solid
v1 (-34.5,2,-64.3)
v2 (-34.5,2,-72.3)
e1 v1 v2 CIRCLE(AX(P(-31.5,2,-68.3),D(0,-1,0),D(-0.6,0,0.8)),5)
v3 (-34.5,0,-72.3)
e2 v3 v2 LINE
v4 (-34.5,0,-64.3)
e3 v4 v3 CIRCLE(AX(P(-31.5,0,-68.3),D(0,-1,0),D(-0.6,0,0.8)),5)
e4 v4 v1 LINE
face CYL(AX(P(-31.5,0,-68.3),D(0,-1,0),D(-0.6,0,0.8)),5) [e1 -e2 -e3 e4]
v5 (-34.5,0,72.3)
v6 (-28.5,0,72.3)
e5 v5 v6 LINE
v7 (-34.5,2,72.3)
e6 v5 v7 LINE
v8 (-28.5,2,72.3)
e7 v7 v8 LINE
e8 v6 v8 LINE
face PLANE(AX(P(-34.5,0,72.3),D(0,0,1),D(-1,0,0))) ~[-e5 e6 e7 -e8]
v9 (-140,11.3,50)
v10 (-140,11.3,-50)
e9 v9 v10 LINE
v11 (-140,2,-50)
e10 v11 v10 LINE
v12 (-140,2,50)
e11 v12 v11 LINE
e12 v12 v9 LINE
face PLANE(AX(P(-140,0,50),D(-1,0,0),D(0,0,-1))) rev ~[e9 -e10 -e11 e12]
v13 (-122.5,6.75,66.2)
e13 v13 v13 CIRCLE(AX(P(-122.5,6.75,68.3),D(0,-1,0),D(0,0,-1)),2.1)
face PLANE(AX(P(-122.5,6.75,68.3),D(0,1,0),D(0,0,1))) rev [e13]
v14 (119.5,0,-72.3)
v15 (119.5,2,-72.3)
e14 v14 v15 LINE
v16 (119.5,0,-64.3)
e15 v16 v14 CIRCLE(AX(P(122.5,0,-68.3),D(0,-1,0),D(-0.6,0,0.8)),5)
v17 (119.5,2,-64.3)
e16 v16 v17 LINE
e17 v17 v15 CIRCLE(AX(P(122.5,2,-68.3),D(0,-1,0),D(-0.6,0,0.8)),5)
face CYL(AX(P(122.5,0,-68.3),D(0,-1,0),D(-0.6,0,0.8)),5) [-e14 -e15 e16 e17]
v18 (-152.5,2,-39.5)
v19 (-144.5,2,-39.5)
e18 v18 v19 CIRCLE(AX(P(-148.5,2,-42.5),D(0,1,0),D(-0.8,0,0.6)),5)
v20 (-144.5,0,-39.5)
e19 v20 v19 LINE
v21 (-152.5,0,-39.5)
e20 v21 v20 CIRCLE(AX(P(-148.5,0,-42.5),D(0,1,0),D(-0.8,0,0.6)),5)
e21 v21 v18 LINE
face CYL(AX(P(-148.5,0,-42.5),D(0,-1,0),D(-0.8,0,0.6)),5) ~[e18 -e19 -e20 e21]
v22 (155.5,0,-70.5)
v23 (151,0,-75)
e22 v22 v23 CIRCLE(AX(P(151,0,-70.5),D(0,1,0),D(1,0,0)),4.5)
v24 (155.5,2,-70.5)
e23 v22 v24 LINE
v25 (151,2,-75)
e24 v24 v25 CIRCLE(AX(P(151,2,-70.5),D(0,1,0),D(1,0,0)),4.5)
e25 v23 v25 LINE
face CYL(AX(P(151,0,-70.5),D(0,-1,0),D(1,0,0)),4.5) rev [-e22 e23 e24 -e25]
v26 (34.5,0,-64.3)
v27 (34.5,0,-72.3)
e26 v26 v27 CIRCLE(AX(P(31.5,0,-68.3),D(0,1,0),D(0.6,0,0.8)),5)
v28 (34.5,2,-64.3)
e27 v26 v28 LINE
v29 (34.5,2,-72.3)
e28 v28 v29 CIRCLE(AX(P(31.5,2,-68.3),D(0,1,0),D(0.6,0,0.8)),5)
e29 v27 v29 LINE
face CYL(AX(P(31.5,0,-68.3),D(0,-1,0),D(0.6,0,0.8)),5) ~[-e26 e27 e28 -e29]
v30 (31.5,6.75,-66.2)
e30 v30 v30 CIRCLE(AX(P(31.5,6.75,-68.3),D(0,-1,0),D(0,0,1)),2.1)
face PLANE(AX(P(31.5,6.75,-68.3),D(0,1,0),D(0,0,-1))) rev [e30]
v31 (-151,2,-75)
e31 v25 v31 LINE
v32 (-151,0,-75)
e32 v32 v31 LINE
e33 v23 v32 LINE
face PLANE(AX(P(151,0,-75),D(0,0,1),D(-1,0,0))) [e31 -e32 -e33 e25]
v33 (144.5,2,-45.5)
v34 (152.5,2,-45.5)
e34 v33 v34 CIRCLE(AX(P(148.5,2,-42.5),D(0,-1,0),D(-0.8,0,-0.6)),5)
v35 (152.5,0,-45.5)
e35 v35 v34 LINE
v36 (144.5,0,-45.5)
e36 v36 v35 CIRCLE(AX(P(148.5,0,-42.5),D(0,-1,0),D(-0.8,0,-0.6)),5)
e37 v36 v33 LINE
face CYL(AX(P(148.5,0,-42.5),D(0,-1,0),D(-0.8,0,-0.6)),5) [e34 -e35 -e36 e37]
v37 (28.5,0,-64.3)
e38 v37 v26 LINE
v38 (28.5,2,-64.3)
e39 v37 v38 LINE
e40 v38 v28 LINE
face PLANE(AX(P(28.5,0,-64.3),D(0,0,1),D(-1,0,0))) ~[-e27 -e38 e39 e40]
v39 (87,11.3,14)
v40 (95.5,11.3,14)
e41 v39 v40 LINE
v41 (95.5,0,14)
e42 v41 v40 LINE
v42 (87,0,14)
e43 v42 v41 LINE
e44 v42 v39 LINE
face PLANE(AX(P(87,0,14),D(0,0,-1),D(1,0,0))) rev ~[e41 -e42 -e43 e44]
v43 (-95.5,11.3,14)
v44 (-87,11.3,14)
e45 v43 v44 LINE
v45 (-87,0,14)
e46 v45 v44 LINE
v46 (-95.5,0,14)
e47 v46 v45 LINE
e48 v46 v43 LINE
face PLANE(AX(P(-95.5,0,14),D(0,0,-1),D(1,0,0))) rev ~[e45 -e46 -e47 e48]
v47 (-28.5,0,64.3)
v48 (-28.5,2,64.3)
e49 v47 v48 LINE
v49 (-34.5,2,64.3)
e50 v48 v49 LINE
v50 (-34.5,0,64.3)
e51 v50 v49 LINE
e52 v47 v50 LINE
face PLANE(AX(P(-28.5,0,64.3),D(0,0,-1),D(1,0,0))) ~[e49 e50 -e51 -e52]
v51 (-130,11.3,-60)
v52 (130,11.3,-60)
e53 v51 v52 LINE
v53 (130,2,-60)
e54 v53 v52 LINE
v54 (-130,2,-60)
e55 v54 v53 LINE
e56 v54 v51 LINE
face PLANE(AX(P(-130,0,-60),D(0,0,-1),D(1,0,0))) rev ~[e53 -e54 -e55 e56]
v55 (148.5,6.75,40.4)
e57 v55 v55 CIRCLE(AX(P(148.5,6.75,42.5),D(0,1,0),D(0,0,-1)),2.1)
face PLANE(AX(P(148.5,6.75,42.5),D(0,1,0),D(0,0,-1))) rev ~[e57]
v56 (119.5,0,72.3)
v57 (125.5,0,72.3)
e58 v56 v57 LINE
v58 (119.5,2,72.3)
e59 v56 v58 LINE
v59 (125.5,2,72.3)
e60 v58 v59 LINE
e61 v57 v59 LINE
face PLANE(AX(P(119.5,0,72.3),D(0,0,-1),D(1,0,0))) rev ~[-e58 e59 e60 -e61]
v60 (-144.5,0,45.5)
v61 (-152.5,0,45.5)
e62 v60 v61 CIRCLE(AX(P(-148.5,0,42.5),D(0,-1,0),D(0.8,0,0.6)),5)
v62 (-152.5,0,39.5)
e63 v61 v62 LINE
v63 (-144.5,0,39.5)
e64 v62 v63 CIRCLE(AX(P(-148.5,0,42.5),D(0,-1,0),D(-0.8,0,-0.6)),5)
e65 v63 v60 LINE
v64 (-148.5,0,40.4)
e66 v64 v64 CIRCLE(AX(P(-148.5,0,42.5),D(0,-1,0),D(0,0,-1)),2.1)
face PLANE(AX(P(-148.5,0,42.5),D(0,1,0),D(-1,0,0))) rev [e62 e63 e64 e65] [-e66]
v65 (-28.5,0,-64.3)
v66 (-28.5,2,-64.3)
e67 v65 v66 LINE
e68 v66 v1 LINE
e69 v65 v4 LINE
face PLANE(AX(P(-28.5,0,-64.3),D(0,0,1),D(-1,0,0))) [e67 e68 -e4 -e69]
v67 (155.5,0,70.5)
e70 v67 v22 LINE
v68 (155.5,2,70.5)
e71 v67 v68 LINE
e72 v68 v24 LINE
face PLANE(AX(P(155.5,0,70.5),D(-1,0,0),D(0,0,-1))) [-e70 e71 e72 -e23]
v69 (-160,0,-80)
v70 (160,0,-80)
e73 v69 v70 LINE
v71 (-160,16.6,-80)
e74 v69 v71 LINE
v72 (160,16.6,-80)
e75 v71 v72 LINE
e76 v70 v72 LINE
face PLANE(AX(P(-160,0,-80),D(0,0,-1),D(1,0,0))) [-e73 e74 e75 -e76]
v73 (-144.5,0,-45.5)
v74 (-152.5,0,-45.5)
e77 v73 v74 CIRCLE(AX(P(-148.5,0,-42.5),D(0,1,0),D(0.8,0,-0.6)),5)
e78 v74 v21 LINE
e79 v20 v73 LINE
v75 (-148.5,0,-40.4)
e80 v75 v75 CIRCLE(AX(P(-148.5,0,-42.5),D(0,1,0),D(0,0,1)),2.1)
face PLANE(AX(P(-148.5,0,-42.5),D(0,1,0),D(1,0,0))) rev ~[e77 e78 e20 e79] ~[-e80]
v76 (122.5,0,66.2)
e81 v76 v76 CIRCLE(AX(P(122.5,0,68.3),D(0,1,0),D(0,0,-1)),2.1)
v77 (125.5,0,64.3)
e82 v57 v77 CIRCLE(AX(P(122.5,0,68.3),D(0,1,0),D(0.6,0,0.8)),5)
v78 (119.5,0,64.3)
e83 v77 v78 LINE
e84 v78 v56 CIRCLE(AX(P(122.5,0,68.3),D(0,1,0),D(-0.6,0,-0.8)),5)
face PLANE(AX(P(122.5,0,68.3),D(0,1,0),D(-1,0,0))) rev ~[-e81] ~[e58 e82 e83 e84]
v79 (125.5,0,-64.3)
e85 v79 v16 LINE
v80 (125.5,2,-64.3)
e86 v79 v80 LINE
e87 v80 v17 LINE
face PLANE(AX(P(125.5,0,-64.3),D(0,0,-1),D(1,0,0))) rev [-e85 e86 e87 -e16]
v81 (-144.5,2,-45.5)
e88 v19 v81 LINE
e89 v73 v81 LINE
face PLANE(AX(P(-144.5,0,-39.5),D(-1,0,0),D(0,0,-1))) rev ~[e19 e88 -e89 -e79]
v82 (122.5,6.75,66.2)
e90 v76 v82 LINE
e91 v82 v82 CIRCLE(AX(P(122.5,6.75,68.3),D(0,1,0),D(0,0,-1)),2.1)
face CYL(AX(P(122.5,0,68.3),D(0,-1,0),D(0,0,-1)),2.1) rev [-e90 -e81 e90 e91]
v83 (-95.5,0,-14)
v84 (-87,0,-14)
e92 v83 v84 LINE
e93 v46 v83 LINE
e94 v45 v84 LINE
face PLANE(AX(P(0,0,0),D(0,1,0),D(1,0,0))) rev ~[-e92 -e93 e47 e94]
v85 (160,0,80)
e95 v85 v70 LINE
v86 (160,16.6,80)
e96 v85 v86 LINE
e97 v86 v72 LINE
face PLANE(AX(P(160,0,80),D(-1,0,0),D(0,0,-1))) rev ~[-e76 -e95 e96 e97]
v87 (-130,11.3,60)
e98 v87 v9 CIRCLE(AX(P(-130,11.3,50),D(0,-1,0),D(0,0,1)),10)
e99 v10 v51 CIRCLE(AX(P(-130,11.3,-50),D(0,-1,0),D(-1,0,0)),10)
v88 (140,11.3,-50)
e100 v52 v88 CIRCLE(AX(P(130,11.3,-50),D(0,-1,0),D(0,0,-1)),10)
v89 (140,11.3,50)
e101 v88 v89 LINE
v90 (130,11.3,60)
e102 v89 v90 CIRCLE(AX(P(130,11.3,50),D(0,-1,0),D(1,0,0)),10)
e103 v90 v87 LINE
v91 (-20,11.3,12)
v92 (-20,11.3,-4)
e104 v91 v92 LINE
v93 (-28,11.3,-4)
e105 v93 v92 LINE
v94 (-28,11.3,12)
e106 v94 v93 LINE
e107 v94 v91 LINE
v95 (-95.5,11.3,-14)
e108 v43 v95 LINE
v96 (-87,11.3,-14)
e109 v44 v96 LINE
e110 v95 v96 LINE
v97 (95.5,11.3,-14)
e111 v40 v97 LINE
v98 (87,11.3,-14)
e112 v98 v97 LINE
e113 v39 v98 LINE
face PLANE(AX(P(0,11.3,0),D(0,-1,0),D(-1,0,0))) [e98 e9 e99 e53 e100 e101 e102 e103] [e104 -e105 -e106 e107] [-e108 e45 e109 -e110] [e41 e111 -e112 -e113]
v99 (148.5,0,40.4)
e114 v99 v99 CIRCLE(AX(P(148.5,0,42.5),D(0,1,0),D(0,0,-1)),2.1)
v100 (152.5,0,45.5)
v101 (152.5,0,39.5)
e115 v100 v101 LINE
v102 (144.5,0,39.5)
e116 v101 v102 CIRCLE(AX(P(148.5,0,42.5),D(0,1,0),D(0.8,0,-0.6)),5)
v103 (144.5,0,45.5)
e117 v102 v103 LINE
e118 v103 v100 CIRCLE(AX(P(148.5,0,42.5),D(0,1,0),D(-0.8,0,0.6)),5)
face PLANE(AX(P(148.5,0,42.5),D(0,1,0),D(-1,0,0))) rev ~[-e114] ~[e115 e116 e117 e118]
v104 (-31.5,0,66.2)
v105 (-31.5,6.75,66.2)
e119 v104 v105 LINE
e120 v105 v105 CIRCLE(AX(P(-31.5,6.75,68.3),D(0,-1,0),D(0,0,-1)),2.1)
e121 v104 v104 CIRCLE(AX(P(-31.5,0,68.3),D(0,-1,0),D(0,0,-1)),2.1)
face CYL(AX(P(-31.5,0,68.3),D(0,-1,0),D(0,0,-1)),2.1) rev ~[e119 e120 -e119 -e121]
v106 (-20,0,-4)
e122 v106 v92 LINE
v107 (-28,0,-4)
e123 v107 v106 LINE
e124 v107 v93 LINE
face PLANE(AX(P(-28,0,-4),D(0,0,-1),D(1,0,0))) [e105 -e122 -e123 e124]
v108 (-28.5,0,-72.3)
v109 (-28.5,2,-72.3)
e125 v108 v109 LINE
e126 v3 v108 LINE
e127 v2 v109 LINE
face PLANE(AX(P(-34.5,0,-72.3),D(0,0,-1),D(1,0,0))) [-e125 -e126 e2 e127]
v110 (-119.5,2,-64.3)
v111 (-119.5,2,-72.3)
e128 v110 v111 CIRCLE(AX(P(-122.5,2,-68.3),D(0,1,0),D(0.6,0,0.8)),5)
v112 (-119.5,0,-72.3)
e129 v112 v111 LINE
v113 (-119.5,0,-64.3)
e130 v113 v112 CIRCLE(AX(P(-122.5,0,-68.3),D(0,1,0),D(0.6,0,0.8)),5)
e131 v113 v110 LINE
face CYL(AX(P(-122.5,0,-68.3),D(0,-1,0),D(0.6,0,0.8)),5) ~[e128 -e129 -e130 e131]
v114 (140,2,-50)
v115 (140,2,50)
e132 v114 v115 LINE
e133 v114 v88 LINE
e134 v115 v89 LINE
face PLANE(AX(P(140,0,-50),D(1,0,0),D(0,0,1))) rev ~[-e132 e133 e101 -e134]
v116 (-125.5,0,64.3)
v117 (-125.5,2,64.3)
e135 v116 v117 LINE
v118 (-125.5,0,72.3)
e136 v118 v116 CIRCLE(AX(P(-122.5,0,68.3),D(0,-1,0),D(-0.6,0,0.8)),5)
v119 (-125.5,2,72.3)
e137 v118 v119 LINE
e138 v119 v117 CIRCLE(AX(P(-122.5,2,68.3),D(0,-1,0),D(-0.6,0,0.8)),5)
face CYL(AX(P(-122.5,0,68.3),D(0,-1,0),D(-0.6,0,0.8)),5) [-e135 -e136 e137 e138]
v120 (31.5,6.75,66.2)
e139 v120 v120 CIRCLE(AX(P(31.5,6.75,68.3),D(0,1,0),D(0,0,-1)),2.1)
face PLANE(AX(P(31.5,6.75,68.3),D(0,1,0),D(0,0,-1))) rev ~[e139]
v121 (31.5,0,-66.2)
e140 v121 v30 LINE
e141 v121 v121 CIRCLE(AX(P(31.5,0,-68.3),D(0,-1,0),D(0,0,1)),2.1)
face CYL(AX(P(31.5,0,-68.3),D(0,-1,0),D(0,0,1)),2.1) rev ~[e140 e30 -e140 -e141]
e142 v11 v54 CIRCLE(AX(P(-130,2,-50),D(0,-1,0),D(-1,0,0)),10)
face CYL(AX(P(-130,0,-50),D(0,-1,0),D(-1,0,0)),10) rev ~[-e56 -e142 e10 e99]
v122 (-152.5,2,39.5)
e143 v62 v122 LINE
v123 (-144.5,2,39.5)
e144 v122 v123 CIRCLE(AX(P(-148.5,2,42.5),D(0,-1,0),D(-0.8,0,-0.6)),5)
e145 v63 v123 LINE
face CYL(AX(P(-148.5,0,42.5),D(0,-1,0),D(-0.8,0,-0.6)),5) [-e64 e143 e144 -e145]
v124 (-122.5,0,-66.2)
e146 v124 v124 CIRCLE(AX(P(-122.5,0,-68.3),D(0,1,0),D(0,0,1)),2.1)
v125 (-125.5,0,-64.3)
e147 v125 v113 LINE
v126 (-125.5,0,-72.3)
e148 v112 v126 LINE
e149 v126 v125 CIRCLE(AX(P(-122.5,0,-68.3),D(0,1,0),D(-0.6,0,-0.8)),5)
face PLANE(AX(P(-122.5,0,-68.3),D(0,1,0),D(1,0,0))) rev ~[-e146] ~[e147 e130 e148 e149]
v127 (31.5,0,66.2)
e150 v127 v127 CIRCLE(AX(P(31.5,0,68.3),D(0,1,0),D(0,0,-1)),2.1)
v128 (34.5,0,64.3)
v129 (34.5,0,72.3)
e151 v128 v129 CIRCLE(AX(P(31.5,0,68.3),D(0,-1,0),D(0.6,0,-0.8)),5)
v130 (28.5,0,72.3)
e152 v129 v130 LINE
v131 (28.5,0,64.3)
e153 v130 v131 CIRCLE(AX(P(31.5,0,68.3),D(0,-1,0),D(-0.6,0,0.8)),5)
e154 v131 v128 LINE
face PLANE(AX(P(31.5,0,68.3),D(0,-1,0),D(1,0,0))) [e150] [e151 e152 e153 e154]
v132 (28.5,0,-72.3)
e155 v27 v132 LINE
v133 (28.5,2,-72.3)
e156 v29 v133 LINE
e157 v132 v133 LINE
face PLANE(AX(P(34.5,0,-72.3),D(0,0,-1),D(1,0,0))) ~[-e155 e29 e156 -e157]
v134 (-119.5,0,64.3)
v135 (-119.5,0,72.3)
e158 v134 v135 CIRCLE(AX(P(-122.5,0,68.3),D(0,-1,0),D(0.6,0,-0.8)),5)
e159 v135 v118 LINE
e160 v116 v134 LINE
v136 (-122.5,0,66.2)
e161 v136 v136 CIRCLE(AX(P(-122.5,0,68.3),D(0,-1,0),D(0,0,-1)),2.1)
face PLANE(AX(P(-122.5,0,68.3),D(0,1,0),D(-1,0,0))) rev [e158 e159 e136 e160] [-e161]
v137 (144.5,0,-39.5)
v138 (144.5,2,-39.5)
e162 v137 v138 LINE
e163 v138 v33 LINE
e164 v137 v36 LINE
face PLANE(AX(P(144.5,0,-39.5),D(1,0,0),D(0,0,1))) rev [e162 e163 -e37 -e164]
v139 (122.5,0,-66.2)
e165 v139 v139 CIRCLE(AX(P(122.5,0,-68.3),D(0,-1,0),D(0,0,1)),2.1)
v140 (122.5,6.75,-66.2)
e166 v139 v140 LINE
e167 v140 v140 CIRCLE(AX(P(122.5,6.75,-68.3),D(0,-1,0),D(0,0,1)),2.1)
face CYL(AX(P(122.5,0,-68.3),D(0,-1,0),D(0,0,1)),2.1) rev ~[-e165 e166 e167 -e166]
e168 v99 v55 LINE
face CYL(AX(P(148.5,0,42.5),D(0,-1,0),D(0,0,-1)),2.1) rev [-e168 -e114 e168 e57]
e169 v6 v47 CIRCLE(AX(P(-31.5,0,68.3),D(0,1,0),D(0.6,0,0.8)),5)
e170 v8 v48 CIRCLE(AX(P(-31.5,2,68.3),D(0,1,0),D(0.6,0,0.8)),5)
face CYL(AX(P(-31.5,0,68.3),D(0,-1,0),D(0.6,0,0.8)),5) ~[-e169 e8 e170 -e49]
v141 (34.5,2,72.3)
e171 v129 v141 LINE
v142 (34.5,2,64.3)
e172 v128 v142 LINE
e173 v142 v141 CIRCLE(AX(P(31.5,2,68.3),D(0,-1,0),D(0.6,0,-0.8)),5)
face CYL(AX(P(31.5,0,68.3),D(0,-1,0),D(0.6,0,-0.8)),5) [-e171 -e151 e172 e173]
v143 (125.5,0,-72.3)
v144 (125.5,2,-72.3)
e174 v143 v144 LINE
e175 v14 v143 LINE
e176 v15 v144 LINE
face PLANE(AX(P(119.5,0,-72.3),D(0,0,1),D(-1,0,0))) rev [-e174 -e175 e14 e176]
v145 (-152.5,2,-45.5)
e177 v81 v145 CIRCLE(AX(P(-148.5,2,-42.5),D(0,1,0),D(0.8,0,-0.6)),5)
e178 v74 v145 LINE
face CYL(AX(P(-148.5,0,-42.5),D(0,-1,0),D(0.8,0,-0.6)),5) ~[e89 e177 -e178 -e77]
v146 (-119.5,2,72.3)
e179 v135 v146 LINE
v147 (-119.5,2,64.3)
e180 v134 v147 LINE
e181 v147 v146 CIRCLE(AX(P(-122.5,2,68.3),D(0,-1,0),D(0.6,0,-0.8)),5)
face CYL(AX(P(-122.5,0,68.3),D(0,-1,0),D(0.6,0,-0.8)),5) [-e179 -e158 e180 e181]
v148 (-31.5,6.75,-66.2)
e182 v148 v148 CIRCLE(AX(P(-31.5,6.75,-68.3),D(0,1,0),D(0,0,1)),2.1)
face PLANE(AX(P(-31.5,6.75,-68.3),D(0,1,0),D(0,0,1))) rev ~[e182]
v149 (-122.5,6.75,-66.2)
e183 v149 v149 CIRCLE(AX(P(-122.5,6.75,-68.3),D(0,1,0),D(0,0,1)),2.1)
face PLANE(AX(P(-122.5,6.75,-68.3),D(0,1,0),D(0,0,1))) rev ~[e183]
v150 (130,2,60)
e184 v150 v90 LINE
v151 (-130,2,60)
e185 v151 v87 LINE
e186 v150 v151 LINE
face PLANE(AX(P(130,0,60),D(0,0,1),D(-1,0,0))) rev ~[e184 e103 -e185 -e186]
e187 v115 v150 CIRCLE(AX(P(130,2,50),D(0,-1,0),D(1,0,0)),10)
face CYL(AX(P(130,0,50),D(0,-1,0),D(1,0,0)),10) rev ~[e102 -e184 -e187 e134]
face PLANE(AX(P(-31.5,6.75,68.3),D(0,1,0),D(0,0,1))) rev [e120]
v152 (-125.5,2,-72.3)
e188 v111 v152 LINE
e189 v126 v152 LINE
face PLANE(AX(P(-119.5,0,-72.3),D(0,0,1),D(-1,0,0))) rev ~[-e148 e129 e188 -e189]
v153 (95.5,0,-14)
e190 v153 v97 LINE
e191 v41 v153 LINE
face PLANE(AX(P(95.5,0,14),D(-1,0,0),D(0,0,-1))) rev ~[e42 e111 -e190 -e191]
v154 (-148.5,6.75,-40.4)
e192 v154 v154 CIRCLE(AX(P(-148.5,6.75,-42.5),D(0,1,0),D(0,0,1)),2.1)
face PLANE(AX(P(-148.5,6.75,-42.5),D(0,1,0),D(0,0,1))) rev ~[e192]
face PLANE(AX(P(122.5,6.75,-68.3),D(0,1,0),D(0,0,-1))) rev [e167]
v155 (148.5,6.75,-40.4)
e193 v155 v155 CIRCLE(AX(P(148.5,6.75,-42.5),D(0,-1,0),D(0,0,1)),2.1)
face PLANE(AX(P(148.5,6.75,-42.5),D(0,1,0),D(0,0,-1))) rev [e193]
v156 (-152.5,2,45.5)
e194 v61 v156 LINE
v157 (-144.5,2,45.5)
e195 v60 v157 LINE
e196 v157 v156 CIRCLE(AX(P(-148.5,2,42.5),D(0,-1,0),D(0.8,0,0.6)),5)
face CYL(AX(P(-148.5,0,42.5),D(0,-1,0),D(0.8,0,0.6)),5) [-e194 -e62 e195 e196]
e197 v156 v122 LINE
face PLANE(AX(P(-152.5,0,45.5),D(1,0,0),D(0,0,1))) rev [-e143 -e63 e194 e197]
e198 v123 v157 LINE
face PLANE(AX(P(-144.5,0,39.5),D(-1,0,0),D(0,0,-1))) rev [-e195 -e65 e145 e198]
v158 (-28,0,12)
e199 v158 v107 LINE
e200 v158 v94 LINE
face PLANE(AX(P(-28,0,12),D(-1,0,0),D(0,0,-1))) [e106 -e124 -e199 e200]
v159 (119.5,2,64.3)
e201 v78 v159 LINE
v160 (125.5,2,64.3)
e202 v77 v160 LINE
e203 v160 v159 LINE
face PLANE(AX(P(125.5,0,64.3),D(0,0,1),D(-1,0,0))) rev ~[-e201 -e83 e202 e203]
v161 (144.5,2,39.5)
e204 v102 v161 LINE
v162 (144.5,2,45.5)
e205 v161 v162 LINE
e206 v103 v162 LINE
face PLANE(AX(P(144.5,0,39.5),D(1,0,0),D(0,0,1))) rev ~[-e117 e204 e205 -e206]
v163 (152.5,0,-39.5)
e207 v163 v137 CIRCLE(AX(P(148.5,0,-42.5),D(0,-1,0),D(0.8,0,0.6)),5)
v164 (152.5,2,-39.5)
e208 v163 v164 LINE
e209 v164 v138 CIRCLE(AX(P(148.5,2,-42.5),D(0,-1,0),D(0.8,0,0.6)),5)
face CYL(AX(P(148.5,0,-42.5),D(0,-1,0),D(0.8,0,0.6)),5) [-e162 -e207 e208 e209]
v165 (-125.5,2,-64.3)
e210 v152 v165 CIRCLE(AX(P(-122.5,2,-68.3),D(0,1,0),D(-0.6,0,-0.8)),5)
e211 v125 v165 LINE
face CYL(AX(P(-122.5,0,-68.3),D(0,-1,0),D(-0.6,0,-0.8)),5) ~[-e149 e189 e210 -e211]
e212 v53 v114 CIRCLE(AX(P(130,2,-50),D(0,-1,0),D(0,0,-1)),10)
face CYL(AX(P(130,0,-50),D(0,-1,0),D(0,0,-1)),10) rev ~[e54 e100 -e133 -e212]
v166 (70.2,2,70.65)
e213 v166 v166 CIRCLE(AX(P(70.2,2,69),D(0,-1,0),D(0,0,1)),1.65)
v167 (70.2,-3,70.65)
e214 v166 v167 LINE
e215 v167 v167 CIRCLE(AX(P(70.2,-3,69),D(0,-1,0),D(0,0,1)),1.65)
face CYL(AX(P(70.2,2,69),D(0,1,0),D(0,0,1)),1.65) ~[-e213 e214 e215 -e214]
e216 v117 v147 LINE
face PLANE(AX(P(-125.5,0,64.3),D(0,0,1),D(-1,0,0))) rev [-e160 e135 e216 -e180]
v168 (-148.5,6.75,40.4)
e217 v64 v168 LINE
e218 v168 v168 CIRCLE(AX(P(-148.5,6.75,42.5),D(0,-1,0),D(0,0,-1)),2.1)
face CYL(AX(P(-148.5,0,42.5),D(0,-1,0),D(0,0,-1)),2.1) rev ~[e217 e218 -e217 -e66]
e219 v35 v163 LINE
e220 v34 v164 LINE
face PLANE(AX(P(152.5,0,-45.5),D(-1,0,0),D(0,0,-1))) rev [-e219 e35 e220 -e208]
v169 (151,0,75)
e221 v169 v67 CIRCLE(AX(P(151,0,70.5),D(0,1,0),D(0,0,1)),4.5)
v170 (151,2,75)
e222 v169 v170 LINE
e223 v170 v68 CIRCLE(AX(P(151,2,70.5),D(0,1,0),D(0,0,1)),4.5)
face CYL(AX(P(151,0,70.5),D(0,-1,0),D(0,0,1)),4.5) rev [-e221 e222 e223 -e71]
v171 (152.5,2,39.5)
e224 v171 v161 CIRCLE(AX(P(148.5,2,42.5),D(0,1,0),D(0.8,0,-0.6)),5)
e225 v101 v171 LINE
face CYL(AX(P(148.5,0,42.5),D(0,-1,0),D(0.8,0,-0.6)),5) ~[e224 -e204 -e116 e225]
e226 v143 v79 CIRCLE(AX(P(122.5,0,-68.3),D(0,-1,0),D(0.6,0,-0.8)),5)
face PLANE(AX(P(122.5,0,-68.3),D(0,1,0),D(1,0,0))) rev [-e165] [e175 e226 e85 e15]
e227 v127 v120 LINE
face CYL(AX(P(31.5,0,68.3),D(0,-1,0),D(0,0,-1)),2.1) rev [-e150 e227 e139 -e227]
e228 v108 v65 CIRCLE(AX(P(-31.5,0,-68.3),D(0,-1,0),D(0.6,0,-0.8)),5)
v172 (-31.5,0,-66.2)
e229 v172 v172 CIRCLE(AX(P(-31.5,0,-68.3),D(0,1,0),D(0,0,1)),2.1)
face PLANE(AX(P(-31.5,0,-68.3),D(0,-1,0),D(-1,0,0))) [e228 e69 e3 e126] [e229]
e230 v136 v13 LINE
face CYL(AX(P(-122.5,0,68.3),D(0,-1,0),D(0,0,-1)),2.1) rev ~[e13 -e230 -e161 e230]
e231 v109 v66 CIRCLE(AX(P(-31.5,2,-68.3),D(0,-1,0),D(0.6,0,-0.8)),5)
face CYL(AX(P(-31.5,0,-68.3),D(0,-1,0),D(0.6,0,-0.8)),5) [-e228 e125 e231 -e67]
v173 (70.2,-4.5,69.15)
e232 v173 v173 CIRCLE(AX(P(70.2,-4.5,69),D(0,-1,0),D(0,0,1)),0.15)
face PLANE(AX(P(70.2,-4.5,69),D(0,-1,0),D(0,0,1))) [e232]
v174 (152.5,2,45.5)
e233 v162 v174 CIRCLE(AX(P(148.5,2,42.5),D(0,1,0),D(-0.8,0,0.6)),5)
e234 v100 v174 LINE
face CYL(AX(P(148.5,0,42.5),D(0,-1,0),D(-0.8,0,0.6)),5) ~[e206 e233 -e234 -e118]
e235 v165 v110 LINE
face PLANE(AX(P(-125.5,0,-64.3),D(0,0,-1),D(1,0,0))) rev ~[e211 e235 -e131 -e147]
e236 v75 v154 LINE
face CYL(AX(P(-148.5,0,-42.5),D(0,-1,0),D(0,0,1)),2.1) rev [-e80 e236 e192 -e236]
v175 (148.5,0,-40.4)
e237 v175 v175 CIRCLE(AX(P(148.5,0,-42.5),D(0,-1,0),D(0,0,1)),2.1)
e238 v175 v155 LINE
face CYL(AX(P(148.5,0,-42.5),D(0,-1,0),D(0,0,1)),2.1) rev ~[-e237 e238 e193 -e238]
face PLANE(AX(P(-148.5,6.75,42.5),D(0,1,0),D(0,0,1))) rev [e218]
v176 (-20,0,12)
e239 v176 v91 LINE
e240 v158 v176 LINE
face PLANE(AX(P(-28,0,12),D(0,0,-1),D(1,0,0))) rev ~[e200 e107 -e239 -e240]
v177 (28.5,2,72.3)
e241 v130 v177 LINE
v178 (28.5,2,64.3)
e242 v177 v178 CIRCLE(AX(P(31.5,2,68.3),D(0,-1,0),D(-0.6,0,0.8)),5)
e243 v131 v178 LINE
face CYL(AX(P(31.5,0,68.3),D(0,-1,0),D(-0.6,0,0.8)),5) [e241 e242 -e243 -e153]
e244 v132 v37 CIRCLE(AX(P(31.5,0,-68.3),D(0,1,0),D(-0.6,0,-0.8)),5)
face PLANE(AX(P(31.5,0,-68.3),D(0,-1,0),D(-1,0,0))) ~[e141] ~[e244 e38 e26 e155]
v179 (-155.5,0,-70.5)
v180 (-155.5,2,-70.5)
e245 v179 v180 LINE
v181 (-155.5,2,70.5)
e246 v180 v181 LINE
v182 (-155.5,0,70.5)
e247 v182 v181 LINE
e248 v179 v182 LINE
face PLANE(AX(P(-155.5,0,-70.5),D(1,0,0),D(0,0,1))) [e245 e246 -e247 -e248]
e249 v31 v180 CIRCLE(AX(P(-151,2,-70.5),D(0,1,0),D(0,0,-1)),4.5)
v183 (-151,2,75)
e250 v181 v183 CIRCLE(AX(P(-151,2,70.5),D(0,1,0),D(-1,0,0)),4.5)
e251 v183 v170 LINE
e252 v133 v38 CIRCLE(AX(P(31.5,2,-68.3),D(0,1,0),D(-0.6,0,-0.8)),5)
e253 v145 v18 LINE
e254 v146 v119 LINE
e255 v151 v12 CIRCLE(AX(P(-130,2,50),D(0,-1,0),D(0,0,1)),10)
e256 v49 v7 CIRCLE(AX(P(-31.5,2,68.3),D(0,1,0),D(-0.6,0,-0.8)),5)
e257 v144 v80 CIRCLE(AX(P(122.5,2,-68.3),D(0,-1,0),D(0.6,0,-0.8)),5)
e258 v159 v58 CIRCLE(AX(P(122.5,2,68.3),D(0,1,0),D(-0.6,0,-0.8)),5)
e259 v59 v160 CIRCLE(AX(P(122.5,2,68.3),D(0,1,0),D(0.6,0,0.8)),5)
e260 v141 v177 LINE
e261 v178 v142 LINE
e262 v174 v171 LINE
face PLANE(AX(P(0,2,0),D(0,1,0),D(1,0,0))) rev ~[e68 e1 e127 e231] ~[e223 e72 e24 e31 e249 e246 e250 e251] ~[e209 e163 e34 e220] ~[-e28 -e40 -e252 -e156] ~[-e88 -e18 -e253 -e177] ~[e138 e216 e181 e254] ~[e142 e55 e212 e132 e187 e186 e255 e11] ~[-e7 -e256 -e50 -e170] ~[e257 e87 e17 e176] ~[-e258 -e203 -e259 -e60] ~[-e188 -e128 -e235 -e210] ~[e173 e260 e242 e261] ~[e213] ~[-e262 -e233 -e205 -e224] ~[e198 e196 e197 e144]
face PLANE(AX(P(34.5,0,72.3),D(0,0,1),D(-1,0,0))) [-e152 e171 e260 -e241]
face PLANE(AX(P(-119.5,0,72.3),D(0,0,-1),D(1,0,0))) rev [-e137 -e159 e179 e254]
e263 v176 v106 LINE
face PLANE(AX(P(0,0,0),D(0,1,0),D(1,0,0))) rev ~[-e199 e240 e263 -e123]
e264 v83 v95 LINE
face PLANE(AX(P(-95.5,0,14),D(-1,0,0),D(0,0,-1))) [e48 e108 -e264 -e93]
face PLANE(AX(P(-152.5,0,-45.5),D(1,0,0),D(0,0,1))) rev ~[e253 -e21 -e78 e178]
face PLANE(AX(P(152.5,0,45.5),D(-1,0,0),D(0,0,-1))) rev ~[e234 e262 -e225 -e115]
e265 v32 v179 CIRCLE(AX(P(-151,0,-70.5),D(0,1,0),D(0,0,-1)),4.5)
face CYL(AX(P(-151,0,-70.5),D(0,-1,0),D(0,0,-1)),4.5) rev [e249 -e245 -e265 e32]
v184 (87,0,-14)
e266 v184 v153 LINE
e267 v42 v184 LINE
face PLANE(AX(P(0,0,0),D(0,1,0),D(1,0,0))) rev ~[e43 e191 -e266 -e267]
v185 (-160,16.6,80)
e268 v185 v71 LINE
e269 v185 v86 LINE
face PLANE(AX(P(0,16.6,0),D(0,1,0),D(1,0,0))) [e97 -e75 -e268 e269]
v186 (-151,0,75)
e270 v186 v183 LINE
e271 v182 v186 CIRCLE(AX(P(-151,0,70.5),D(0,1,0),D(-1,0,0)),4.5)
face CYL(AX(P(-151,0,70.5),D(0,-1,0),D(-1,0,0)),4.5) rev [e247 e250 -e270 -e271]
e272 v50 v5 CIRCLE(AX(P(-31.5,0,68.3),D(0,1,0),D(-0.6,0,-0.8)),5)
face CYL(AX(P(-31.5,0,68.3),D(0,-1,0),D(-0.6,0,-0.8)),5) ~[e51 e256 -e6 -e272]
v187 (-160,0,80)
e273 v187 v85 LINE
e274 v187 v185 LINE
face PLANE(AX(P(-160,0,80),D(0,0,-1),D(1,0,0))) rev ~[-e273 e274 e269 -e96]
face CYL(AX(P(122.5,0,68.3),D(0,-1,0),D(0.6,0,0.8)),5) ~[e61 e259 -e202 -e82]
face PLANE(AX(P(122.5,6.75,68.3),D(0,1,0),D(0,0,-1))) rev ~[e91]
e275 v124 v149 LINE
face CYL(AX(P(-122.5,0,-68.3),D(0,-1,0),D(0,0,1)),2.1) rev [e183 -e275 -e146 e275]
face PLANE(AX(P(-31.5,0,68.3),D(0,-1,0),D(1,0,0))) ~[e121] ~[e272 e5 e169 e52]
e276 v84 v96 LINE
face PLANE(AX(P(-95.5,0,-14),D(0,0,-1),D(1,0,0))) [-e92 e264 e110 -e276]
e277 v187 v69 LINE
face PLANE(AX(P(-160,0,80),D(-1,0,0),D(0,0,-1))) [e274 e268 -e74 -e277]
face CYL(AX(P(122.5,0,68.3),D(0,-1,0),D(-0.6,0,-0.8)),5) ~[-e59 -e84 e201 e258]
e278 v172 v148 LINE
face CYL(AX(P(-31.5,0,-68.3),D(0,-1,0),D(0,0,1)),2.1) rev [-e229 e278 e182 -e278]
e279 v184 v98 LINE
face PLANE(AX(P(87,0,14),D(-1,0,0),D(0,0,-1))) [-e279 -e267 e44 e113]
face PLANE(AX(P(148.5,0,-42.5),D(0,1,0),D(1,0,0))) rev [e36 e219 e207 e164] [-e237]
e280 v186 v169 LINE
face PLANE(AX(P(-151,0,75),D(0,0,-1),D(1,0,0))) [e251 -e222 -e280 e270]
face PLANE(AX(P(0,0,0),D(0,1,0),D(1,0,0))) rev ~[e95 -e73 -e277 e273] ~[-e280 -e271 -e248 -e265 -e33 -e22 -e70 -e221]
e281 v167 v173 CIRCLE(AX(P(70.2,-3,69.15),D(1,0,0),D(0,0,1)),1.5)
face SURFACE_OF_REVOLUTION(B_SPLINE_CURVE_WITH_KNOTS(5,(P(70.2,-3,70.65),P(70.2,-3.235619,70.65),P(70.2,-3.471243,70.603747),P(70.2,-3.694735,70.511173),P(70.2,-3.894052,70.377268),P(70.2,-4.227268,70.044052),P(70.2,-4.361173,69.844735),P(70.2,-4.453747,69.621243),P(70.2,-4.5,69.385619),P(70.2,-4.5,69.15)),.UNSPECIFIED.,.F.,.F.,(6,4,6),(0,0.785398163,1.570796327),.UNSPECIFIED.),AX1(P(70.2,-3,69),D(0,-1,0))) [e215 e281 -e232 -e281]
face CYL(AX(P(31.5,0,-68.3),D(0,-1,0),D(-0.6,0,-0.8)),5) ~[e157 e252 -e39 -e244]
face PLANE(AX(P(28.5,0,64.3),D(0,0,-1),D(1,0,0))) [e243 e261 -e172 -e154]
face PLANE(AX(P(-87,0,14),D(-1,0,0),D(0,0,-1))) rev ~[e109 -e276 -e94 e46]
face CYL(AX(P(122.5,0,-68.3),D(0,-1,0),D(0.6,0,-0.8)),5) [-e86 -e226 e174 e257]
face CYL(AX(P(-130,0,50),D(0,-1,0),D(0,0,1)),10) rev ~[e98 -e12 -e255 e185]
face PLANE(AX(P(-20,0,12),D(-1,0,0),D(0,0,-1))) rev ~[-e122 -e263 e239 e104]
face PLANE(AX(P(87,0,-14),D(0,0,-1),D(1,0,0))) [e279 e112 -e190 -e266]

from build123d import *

# Parameters (mm, degrees)
SKETCH1_W                                  = 320
SKETCH1_H                                  = 160
BOSS_EXTRUDE1_DEPTH                        = 16.6
SKETCH1_3_W                                = 8.5
SKETCH1_3_H                                = 28
SKETCH1_3_W_2                              = 8
SKETCH1_3_H_2                              = 16
CUT_EXTRUDE1_DEPTH                         = 11.3
CUT_EXTRUDE2_DEPTH                         = 2
BOSS_EXTRUDE2_DEPTH                        = 2
SKETCH1_6_R                                = 2.1
CUT_EXTRUDE3_DEPTH                         = 6.75
MIRROR1_AT_THE_SECOND_PLANE_COPY_1_DEPTH   = 2
MIRROR1_AT_THE_SECOND_PLANE_COPY_2_SKETC_R = 2.1
MIRROR1_AT_THE_SECOND_PLANE_COPY_2_DEPTH   = 6.75
SKETCH2_R                                  = 1.65
BOSS_EXTRUDE4_DEPTH                        = 6.5
FILLET1_R                                  = 1.5


with BuildPart() as part:
    # Sketch1 → Boss-Extrude1 (new body)
    with BuildSketch(Plane(origin=(0, 0, 0), x_dir=(1, 0, 0), z_dir=(0, 1, 0))):
        Rectangle(SKETCH1_W, SKETCH1_H)
    extrude(amount=BOSS_EXTRUDE1_DEPTH)

    # Sketch1<3> → Cut-Extrude1 (cut)
    with BuildSketch(Plane(origin=(0, 0, 0), x_dir=(1, 0, 0), z_dir=(0, 1, 0))):
        with BuildLine():
            Line((130, -60), (-130, -60))
            ThreePointArc((-130, -60), (-137.071067812, -57.071067812), (-140, -50))
            Line((-140, -50), (-140, 50))
            ThreePointArc((-140, 50), (-137.071067812, 57.071067812), (-130, 60))
            Line((-130, 60), (130, 60))
            ThreePointArc((130, 60), (137.071067812, 57.071067812), (140, 50))
            Line((140, 50), (140, -50))
            ThreePointArc((140, -50), (137.071067812, -57.071067812), (130, -60))
        make_face()
        with Locations((91.25, 0)):
            Rectangle(SKETCH1_3_W, SKETCH1_3_H, mode=Mode.SUBTRACT)
        with Locations((-91.25, 0)):
            Rectangle(SKETCH1_3_W, SKETCH1_3_H, mode=Mode.SUBTRACT)
        with Locations((-24, -4)):
            Rectangle(SKETCH1_3_W_2, SKETCH1_3_H_2, mode=Mode.SUBTRACT)
    extrude(amount=CUT_EXTRUDE1_DEPTH, mode=Mode.SUBTRACT)

    # Sketch1<4> → Cut-Extrude2 (cut)
    with BuildSketch(Plane(origin=(0, 0, 0), x_dir=(1, 0, 0), z_dir=(0, 1, 0))):
        with BuildLine():
            Line((-151, -75), (151, -75))
            ThreePointArc((151, -75), (154.181980515, -73.681980515), (155.5, -70.5))
            Line((155.5, -70.5), (155.5, 70.5))
            ThreePointArc((155.5, 70.5), (154.181980515, 73.681980515), (151, 75))
            Line((151, 75), (-151, 75))
            ThreePointArc((-151, 75), (-154.181980515, 73.681980515), (-155.5, 70.5))
            Line((-155.5, 70.5), (-155.5, -70.5))
            ThreePointArc((-155.5, -70.5), (-154.181980515, -73.681980515), (-151, -75))
        make_face()
        with BuildLine():
            ThreePointArc((140, -50), (137.071067812, -57.071067812), (130, -60))
            Line((130, -60), (-130, -60))
            ThreePointArc((-130, -60), (-137.071067812, -57.071067812), (-140, -50))
            Line((-140, -50), (-140, 50))
            ThreePointArc((-140, 50), (-137.071067812, 57.071067812), (-130, 60))
            Line((-130, 60), (130, 60))
            ThreePointArc((130, 60), (137.071067812, 57.071067812), (140, 50))
            Line((140, 50), (140, -50))
        make_face(mode=Mode.SUBTRACT)
    extrude(amount=CUT_EXTRUDE2_DEPTH, mode=Mode.SUBTRACT)

    # Sketch1<5> → Boss-Extrude2 (add)
    with BuildSketch(Plane(origin=(0, 0, 0), x_dir=(1, 0, 0), z_dir=(0, 1, 0))):
        with BuildLine():
            Line((-152.5, 45.5), (-152.5, 39.5))
            ThreePointArc((-152.5, 39.5), (-148.5, 37.5), (-144.5, 39.5))
            Line((-144.5, 39.5), (-144.5, 45.5))
            ThreePointArc((-144.5, 45.5), (-148.5, 47.5), (-152.5, 45.5))
        make_face()
        with BuildLine():
            Line((-119.5, 72.3), (-125.5, 72.3))
            ThreePointArc((-125.5, 72.3), (-127.5, 68.3), (-125.5, 64.3))
            Line((-125.5, 64.3), (-119.5, 64.3))
            ThreePointArc((-119.5, 64.3), (-117.5, 68.3), (-119.5, 72.3))
        make_face()
        with BuildLine():
            Line((-34.5, 72.3), (-28.5, 72.3))
            ThreePointArc((-28.5, 72.3), (-26.5, 68.3), (-28.5, 64.3))
            Line((-28.5, 64.3), (-34.5, 64.3))
            ThreePointArc((-34.5, 64.3), (-36.5, 68.3), (-34.5, 72.3))
        make_face()
    boss_extrude2 = extrude(amount=BOSS_EXTRUDE2_DEPTH)

    # Sketch1<6> → Cut-Extrude3 (cut)
    with BuildSketch(Plane(origin=(0, 0, 0), x_dir=(1, 0, 0), z_dir=(0, 1, 0))):
        with Locations(Location((-148.5, 42.5, 0), (0, 0, 270))):
            Circle(SKETCH1_6_R)
        with Locations(Location((-122.5, 68.3, 0), (0, 0, 270))):
            Circle(SKETCH1_6_R)
        with Locations(Location((-31.5, 68.3, 0), (0, 0, 270))):
            Circle(SKETCH1_6_R)
    cut_extrude3 = extrude(amount=CUT_EXTRUDE3_DEPTH, mode=Mode.SUBTRACT)

    # Mirror1: Boss-Extrude2, Cut-Extrude3 across plane
    add(boss_extrude2.mirror(Plane.XY))
    add(cut_extrude3.mirror(Plane.XY), mode=Mode.SUBTRACT)

    # Mirror1 at the second plane: Boss-Extrude2, Cut-Extrude3 across plane
    add(boss_extrude2.mirror(Plane(origin=(0, 0, 0), x_dir=(0, 0, 1), z_dir=(1, 0, 0))))
    add(cut_extrude3.mirror(Plane(origin=(0, 0, 0), x_dir=(0, 0, 1), z_dir=(1, 0, 0))), mode=Mode.SUBTRACT)

    # Mirror1 at the second plane copy 1 sketc → Mirror1 at the second plane copy 1 (add)
    with BuildSketch(Plane(origin=(0, 0, 0), x_dir=(-1, 0, 0), z_dir=(0, 1, 0))):
        with BuildLine():
            Line((-152.5, 45.5), (-152.5, 39.5))
            ThreePointArc((-152.5, 39.5), (-148.5, 37.5), (-144.5, 39.5))
            Line((-144.5, 39.5), (-144.5, 45.5))
            ThreePointArc((-144.5, 45.5), (-148.5, 47.5), (-152.5, 45.5))
        make_face()
        with BuildLine():
            Line((-119.5, 72.3), (-125.5, 72.3))
            ThreePointArc((-125.5, 72.3), (-127.5, 68.3), (-125.5, 64.3))
            Line((-125.5, 64.3), (-119.5, 64.3))
            ThreePointArc((-119.5, 64.3), (-117.5, 68.3), (-119.5, 72.3))
        make_face()
        with BuildLine():
            Line((-34.5, 72.3), (-28.5, 72.3))
            ThreePointArc((-28.5, 72.3), (-26.5, 68.3), (-28.5, 64.3))
            Line((-28.5, 64.3), (-34.5, 64.3))
            ThreePointArc((-34.5, 64.3), (-36.5, 68.3), (-34.5, 72.3))
        make_face()
    extrude(amount=MIRROR1_AT_THE_SECOND_PLANE_COPY_1_DEPTH)

    # Mirror1 at the second plane copy 2 sketc → Mirror1 at the second plane copy 2 (cut)
    with BuildSketch(Plane(origin=(0, 0, 0), x_dir=(-1, 0, 0), z_dir=(0, 1, 0))):
        with Locations(Location((-148.5, 42.5, 0), (0, 0, 270))):
            Circle(MIRROR1_AT_THE_SECOND_PLANE_COPY_2_SKETC_R)
        with Locations(Location((-122.5, 68.3, 0), (0, 0, 270))):
            Circle(MIRROR1_AT_THE_SECOND_PLANE_COPY_2_SKETC_R)
        with Locations(Location((-31.5, 68.3, 0), (0, 0, 270))):
            Circle(MIRROR1_AT_THE_SECOND_PLANE_COPY_2_SKETC_R)
    extrude(amount=MIRROR1_AT_THE_SECOND_PLANE_COPY_2_DEPTH, mode=Mode.SUBTRACT)

    # Sketch2 → Boss-Extrude4 (add)
    with BuildSketch(Plane.XZ.offset(-2)):
        with Locations(Location((70.2, 69, 0), (0, 0, 90))):
            Circle(SKETCH2_R)
    extrude(amount=BOSS_EXTRUDE4_DEPTH)

    # Fillet1
    fillet1_edges = [part.edges().sort_by_distance(p)[0] for p in [
        (70.2, -4.5, 67.35),
    ]]
    fillet(fillet1_edges, radius=FILLET1_R)


solid = part.part
